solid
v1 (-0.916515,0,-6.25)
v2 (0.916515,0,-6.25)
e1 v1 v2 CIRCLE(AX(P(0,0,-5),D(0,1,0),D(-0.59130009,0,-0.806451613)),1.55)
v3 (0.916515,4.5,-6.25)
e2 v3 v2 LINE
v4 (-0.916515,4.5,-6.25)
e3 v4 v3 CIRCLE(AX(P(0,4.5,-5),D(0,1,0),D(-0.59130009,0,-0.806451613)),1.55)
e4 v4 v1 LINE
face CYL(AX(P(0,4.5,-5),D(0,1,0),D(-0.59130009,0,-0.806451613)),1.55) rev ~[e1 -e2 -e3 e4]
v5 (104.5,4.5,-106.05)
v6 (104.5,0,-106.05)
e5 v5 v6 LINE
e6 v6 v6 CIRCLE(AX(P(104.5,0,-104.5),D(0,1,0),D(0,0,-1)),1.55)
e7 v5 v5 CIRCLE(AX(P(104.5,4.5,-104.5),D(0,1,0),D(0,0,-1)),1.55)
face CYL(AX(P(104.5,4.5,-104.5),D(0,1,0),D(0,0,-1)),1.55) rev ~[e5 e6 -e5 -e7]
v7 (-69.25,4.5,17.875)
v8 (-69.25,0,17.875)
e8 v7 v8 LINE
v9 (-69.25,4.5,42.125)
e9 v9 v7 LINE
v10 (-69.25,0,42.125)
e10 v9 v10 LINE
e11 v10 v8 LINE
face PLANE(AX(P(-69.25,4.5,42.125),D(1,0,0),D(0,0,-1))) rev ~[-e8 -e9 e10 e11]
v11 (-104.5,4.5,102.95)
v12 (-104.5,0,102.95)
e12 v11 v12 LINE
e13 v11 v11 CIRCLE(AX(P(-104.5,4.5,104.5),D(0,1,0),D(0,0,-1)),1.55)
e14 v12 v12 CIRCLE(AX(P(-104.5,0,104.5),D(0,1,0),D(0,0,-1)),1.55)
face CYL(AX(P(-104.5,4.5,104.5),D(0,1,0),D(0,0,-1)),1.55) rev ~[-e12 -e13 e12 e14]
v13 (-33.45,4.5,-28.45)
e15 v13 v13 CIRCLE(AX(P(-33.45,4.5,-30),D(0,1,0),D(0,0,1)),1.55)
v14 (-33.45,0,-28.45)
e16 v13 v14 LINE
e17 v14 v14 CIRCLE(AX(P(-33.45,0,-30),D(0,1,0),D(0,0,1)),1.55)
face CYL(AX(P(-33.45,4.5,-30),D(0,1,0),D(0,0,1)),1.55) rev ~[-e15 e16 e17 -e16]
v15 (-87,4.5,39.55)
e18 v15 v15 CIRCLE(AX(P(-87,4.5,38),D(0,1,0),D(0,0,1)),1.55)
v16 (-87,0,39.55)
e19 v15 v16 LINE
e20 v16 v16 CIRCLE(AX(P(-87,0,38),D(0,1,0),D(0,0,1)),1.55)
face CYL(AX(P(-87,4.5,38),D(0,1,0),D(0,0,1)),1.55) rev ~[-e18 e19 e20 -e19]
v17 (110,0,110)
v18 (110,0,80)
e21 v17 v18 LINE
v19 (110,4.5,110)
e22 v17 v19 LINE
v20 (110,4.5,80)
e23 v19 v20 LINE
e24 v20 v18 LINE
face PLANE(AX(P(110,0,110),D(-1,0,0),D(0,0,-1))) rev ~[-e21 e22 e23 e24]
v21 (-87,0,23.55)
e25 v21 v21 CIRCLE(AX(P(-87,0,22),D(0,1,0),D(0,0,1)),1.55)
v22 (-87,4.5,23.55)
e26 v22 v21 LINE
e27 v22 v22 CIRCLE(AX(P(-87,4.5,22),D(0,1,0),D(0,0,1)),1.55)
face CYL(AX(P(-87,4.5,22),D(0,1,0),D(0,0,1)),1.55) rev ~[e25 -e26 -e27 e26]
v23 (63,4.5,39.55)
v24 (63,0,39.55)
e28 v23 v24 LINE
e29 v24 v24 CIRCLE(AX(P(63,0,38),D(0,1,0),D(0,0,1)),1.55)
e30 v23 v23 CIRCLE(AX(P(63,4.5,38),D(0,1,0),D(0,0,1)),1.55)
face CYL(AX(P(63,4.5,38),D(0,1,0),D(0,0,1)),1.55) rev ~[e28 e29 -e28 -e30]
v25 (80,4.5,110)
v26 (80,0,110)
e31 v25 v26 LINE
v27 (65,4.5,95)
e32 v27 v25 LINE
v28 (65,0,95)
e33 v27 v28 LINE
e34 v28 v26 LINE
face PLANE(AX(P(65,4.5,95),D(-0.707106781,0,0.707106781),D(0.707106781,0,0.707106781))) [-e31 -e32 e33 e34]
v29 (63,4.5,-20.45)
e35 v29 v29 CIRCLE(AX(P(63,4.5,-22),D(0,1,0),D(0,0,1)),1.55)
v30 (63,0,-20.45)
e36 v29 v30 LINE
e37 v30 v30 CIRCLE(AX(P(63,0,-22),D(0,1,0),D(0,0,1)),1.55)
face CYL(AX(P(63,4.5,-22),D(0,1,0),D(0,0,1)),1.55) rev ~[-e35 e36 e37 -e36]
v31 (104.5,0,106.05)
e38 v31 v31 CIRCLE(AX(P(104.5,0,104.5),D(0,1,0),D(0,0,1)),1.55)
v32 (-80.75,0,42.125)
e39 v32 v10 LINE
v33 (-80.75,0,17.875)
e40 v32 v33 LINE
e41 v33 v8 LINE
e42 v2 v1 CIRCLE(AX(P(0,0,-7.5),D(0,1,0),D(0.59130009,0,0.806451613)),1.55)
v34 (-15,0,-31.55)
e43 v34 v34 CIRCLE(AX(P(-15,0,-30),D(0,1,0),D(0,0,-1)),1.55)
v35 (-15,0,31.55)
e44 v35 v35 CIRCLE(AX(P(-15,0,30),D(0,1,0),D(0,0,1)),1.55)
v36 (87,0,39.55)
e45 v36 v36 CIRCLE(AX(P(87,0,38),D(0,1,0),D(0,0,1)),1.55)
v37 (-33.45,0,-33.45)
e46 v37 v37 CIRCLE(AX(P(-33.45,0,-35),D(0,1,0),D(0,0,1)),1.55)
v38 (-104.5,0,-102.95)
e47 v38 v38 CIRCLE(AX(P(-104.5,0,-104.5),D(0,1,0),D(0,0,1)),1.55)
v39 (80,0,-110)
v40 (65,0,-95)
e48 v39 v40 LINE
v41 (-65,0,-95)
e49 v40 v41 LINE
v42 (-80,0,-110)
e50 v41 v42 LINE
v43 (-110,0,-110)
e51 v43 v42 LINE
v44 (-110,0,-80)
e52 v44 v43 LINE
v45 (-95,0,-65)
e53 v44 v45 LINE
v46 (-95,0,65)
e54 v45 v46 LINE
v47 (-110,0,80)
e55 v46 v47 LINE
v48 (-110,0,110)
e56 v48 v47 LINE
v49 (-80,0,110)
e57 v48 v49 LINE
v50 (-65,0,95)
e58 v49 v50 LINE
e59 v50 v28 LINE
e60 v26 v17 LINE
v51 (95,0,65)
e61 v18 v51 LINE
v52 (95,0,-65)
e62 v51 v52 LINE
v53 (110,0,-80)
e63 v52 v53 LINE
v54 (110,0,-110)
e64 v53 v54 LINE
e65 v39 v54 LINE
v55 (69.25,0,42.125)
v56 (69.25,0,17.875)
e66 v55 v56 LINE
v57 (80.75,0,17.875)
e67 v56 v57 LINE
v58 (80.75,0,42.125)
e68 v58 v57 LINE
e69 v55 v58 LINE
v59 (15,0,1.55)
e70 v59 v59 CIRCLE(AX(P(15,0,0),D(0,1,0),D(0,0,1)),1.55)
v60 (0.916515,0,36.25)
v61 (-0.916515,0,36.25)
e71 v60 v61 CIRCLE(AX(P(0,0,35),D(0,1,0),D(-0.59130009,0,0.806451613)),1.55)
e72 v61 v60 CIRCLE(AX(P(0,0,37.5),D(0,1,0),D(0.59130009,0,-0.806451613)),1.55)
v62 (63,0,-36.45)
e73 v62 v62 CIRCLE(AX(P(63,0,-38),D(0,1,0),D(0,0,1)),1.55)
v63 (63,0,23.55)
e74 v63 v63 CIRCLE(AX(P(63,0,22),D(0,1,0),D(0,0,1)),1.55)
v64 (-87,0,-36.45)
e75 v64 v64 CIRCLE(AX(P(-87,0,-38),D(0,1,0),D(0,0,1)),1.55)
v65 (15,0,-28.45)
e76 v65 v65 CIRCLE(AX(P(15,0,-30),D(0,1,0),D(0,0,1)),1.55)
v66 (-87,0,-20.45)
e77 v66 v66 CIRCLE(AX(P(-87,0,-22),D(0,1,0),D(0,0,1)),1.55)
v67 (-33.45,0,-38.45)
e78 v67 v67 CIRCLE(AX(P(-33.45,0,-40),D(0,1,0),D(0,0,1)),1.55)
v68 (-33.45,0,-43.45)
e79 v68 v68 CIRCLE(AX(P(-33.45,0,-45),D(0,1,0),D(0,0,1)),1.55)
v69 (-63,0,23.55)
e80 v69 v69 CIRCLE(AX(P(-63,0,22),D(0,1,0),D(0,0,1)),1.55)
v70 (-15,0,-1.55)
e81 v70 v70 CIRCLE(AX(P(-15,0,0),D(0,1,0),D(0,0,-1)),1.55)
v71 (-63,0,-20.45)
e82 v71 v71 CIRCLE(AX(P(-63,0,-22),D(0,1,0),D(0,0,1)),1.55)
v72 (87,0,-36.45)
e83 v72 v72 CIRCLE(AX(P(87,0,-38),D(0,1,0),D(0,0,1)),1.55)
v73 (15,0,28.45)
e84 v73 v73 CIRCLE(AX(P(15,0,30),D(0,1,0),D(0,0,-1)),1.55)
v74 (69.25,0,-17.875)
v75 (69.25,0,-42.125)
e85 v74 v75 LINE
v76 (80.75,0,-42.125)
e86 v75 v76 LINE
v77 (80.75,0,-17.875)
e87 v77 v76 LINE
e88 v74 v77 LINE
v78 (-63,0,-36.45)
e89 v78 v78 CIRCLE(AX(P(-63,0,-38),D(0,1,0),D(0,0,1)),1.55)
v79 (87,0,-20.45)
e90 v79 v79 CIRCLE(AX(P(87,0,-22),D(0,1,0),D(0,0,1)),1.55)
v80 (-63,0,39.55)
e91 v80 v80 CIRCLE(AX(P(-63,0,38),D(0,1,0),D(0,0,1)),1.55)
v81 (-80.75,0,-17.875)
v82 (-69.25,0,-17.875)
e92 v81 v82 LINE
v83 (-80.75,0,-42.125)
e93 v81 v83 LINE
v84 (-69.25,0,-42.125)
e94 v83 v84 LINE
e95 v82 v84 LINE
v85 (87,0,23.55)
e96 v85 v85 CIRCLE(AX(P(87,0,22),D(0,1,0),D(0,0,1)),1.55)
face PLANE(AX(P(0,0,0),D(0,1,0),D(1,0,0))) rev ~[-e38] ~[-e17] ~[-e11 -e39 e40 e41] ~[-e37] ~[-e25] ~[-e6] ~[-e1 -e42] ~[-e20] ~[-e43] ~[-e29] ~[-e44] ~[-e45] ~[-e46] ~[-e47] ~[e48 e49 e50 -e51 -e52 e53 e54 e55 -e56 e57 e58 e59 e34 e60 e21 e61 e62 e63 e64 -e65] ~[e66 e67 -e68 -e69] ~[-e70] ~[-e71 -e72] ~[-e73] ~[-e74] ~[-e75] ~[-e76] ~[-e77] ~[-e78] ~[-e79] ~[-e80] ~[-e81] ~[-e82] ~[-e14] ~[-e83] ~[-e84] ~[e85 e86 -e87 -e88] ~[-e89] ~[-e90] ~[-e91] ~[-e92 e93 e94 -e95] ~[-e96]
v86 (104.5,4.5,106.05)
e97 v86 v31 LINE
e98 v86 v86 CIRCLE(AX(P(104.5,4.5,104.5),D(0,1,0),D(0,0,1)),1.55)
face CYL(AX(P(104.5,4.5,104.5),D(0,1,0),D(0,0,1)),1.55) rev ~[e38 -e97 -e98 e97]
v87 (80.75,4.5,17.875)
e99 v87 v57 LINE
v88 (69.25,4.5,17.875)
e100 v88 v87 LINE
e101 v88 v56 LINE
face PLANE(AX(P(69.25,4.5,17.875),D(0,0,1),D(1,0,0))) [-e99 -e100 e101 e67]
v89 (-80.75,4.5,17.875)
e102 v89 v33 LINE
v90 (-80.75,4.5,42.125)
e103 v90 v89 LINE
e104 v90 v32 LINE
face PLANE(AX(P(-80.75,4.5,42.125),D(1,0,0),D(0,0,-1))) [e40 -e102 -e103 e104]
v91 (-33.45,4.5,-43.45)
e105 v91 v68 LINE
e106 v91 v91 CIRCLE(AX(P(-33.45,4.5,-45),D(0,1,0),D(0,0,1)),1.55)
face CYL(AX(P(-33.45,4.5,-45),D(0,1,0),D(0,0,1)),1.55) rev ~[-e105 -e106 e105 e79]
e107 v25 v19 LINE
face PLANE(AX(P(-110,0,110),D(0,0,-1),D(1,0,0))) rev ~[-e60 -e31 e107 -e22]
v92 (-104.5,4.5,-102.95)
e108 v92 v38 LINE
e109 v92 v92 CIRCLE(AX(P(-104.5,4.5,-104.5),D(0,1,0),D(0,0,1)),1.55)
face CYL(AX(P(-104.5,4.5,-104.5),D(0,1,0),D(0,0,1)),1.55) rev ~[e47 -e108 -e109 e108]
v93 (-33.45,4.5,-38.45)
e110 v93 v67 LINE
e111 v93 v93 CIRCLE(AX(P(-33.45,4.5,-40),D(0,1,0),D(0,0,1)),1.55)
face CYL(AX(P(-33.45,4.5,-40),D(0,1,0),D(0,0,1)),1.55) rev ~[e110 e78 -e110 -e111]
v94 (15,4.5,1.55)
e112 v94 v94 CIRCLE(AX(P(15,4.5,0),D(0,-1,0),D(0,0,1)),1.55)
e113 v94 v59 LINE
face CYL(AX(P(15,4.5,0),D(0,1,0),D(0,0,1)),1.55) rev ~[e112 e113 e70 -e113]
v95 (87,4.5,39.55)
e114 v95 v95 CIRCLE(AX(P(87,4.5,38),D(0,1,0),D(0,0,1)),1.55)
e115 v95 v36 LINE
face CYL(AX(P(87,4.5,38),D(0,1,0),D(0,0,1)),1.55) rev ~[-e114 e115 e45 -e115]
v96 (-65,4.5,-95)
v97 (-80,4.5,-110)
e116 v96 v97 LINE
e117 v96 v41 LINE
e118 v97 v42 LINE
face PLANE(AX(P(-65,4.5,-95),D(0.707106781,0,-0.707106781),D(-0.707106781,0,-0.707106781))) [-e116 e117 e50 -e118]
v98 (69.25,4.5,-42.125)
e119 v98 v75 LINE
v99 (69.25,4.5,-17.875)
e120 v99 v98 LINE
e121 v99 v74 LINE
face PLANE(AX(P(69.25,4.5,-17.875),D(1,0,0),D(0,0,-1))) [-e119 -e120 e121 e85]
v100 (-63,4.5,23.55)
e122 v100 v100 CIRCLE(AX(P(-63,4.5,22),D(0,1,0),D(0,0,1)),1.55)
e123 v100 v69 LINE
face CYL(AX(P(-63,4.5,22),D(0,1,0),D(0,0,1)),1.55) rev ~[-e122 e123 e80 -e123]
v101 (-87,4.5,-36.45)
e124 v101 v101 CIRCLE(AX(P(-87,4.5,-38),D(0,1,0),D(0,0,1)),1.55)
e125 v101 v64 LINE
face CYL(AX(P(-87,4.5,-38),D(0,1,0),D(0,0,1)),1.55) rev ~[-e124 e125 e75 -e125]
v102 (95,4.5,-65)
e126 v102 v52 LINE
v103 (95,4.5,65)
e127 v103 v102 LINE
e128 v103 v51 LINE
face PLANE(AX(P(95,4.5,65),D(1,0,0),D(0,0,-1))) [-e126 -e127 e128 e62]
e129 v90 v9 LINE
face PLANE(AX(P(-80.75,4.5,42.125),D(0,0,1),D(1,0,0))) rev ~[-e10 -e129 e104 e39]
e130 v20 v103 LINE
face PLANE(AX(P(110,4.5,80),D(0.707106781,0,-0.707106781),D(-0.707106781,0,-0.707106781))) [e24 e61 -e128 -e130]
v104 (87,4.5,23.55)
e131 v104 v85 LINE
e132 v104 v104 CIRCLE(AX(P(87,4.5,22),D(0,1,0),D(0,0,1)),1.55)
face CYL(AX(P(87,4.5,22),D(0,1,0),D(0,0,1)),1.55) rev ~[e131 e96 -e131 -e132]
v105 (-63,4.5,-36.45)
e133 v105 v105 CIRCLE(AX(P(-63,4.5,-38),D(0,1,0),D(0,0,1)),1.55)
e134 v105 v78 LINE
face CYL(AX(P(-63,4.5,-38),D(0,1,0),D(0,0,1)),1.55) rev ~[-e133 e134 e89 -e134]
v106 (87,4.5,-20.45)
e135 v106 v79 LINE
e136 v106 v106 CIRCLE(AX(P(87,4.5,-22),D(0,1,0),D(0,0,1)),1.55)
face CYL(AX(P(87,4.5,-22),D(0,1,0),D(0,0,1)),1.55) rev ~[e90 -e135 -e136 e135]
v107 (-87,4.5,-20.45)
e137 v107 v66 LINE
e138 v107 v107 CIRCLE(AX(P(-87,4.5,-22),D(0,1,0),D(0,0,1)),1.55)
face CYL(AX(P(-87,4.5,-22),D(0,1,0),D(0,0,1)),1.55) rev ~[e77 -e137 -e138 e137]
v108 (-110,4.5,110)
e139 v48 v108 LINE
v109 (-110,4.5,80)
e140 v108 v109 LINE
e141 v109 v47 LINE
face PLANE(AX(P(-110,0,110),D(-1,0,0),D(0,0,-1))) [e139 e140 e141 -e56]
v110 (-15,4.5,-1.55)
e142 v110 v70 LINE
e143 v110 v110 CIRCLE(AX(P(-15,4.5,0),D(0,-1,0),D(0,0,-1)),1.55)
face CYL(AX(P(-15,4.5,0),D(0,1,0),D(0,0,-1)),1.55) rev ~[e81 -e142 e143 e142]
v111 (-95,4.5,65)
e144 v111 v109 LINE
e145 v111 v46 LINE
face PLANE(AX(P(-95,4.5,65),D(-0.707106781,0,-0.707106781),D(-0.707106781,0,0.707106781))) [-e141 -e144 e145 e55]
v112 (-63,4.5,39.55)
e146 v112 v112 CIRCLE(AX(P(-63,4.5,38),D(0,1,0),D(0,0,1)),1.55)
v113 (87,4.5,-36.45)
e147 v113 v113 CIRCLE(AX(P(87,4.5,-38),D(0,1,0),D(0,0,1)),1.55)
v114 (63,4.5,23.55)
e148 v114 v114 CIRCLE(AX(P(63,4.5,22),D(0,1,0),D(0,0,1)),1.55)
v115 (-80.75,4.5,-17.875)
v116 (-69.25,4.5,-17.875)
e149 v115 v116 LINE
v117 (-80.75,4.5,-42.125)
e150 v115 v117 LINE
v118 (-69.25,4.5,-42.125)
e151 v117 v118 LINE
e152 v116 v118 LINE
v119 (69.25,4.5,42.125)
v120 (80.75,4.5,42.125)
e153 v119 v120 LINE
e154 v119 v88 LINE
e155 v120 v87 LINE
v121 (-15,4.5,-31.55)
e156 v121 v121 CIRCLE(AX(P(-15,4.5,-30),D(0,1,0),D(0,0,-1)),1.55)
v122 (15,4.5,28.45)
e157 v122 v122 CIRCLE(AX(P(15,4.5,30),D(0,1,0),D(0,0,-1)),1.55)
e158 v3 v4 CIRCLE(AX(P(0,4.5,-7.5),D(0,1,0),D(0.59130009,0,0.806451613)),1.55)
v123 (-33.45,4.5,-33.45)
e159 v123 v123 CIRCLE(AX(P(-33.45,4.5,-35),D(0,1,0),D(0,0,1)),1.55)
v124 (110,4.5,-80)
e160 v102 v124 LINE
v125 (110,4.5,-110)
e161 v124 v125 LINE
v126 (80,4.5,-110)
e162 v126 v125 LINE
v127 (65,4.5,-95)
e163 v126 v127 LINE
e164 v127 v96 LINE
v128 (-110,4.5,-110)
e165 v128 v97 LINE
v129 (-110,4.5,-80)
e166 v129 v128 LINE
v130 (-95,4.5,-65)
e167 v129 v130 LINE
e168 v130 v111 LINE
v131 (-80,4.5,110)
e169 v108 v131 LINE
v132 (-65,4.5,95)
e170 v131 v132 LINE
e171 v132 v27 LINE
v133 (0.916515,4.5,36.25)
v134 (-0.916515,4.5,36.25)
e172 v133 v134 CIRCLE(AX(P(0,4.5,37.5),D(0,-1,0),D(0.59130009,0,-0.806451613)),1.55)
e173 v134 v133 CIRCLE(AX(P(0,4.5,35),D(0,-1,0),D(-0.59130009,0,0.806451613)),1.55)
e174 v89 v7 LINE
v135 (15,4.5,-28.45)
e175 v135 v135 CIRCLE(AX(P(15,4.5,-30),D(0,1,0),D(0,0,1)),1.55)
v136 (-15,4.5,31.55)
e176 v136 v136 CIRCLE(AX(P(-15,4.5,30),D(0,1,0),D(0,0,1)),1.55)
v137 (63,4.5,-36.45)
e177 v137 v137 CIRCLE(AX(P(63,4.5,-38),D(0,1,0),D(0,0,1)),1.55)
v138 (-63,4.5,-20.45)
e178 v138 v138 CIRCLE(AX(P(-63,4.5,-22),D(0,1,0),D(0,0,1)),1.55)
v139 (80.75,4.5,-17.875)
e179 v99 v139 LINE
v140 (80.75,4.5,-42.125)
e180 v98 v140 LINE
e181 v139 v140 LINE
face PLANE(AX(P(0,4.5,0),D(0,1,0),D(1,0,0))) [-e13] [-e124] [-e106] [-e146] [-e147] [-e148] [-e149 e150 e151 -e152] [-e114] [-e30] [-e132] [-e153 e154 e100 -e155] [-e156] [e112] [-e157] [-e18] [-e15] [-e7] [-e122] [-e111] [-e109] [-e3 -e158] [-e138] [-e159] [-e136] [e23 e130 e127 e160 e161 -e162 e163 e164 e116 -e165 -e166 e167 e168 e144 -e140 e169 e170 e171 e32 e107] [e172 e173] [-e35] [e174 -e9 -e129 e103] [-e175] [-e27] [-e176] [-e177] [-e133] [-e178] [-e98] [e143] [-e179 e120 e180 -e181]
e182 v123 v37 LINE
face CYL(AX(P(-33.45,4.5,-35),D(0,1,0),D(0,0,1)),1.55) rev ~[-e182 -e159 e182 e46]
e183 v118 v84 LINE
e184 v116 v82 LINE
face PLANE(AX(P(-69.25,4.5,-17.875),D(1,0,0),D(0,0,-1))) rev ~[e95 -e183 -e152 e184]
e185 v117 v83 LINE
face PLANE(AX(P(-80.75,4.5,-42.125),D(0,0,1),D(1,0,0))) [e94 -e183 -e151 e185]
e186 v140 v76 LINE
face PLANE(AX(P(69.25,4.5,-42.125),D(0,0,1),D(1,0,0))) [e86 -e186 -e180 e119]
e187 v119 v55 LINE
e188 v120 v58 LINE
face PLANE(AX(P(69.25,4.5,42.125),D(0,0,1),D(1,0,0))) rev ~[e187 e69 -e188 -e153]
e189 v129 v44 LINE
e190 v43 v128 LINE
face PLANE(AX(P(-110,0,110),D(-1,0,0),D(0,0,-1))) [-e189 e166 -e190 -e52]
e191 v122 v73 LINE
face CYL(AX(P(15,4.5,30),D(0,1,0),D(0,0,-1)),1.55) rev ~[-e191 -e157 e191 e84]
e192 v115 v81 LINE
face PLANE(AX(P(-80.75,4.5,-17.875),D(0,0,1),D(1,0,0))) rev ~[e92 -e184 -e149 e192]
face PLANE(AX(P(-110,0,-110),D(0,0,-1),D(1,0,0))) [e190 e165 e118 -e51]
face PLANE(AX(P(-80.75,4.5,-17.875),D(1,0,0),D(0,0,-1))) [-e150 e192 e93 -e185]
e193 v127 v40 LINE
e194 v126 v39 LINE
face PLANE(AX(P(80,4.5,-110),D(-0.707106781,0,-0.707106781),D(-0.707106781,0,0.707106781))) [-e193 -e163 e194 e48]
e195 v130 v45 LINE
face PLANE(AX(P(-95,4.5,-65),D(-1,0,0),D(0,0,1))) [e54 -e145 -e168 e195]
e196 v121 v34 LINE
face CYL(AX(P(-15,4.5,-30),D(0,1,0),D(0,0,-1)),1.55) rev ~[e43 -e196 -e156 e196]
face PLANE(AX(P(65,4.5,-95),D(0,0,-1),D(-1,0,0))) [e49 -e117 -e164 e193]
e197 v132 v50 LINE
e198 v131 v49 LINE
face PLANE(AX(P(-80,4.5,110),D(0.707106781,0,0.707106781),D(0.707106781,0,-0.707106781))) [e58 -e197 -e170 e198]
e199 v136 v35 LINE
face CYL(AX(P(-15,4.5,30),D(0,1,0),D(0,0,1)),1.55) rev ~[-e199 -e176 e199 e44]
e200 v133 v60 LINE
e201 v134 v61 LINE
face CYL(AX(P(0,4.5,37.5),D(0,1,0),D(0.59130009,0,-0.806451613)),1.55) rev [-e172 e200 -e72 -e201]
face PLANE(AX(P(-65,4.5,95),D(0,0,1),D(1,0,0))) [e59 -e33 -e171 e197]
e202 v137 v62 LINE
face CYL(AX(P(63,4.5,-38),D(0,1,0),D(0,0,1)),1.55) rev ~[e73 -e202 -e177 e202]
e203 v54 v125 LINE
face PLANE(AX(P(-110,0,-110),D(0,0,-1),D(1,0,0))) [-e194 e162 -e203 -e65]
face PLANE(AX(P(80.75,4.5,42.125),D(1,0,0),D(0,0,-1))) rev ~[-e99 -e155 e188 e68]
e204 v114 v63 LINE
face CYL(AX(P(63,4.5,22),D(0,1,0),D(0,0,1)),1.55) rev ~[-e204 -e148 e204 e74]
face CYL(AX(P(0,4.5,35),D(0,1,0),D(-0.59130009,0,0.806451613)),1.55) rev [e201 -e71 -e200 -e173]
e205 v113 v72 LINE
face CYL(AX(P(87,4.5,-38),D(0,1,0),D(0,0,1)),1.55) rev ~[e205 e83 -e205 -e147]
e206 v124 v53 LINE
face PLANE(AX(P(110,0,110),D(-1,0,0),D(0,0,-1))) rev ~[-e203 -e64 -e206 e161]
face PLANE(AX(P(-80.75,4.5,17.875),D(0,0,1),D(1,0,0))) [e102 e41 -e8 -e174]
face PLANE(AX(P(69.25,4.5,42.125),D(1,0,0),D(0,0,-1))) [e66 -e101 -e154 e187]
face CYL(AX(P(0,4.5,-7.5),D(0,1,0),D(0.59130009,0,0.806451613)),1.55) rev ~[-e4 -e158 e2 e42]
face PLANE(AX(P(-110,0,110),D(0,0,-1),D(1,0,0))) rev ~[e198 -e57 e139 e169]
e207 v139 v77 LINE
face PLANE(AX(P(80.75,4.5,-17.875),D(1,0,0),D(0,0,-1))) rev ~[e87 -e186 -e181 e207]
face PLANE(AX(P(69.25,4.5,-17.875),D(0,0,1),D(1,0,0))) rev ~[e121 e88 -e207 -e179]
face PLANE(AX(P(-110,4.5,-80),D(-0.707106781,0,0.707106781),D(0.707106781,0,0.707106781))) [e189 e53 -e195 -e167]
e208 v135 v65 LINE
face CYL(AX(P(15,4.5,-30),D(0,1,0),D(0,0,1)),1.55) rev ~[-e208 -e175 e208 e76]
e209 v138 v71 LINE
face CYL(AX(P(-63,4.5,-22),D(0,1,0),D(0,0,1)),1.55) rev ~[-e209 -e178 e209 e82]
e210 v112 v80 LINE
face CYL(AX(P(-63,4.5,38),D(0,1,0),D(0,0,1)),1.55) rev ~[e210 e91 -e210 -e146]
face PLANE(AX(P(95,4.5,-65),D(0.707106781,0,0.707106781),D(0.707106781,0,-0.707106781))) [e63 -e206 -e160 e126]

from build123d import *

# Parameters (mm, degrees)
SKETCH1_W            = 220
SKETCH1_H            = 220
SQUARE_DEPTH         = 4.5
SKETCH2_R            = 1.55
LM8UU_HOLDERS_DEPTH  = 156.628564216
SKETCH3_R            = 1.55
DEFAULTBELT_DEPTH    = 156.628564216
BELTOPTIONS_DEPTH    = 156.628564216
SKETCH5_OUTSIDE_W    = 284.232
SKETCH5_OUTSIDE_H    = 284.232
SKETCH5_OUTSIDE_R    = 1.55
SHAPING_DEPTH        = 10
SKETCH6_R            = 1.55
CUT_EXTRUDE5_DEPTH   = 156.628564216
SKETCH7_W            = 11.5
SKETCH7_H            = 24.25
CUT_EXTRUDE6_DEPTH   = 156.628564216
SKETCH8_R            = 1.55
ENDSTOPTRIGGER_DEPTH = 156.628564216
LPATTERN1_COUNT      = 2
LPATTERN1_PITCH      = 30


with BuildPart() as part:
    # Sketch1 → Square (new body)
    with BuildSketch(Plane(origin=(0, 0, 0), x_dir=(1, 0, 0), z_dir=(0, 1, 0))):
        Rectangle(SKETCH1_W, SKETCH1_H)
    extrude(amount=SQUARE_DEPTH)

    # Sketch2 → LM8UU-Holders (cut, through all)
    with BuildSketch(Plane(origin=(0, 4.5, 0), x_dir=(1, 0, 0), z_dir=(0, 1, 0))):
        with Locations((87, 38)):
            Circle(SKETCH2_R)
        with Locations((87, 22)):
            Circle(SKETCH2_R)
        with Locations((63, 22)):
            Circle(SKETCH2_R)
        with Locations((63, 38)):
            Circle(SKETCH2_R)
        with Locations((-63, 38)):
            Circle(SKETCH2_R)
        with Locations((-63, 22)):
            Circle(SKETCH2_R)
        with Locations((-87, 22)):
            Circle(SKETCH2_R)
        with Locations((-87, 38)):
            Circle(SKETCH2_R)
        with Locations((87, -22)):
            Circle(SKETCH2_R)
        with Locations((87, -38)):
            Circle(SKETCH2_R)
        with Locations((63, -38)):
            Circle(SKETCH2_R)
        with Locations((63, -22)):
            Circle(SKETCH2_R)
        with Locations((-63, -22)):
            Circle(SKETCH2_R)
        with Locations((-63, -38)):
            Circle(SKETCH2_R)
        with Locations((-87, -38)):
            Circle(SKETCH2_R)
        with Locations((-87, -22)):
            Circle(SKETCH2_R)
    extrude(amount=-LM8UU_HOLDERS_DEPTH, mode=Mode.SUBTRACT)

    # Sketch3 → DefaultBelt (cut, through all)
    with BuildSketch(Plane(origin=(0, 4.5, 0), x_dir=(1, 0, 0), z_dir=(0, 1, 0))):
        with Locations((-15, -30)):
            Circle(SKETCH3_R)
        with Locations((15, -30)):
            Circle(SKETCH3_R)
        with Locations((15, 0)):
            Circle(SKETCH3_R)
        with Locations((-15, 0)):
            Circle(SKETCH3_R)
    defaultbelt = extrude(amount=-DEFAULTBELT_DEPTH, mode=Mode.SUBTRACT)

    # Sketch4 → BeltOptions (cut, through all)
    with BuildSketch(Plane(origin=(0, 4.5, 0), x_dir=(1, 0, 0), z_dir=(0, 1, 0))):
        with BuildLine():
            ThreePointArc((-0.916515139, 6.25), (0, 3.45), (0.916515139, 6.25))
            ThreePointArc((0.916515139, 6.25), (0, 9.05), (-0.916515139, 6.25))
        make_face()
        with BuildLine():
            ThreePointArc((0.916515139, -36.25), (0, -39.05), (-0.916515139, -36.25))
            ThreePointArc((-0.916515139, -36.25), (0, -33.45), (0.916515139, -36.25))
        make_face()
    extrude(amount=-BELTOPTIONS_DEPTH, mode=Mode.SUBTRACT)

    # Sketch5 outside → Shaping (cut)
    # profile 1 of 15: a face of its own
    with BuildSketch(Plane(origin=(0, 4.5, 0), x_dir=(1, 0, 0), z_dir=(0, 1, 0))):
        Rectangle(SKETCH5_OUTSIDE_W, SKETCH5_OUTSIDE_H)
        Polygon((-80, 110), (-110, 110), (-110, 80), (-95, 65), (-95, -65), (-110, -80), (-110, -110), (-80, -110), (-65, -95), (65, -95), (80, -110), (110, -110), (110, -80), (95, -65), (95, 65), (110, 80), (110, 110), (80, 110), (65, 95), (-65, 95), align=None, mode=Mode.SUBTRACT)
    # profile 2 of 15: a face of its own
    with BuildSketch(Plane(origin=(0, 4.5, 0), x_dir=(1, 0, 0), z_dir=(0, 1, 0))):
        with Locations((-87, -38)):
            Circle(SKETCH5_OUTSIDE_R)
    # profile 3 of 15: a face of its own
    with BuildSketch(Plane(origin=(0, 4.5, 0), x_dir=(1, 0, 0), z_dir=(0, 1, 0))):
        with Locations((-63, -38)):
            Circle(SKETCH5_OUTSIDE_R)
    # profile 4 of 15: a face of its own
    with BuildSketch(Plane(origin=(0, 4.5, 0), x_dir=(1, 0, 0), z_dir=(0, 1, 0))):
        with Locations((-87, -22)):
            Circle(SKETCH5_OUTSIDE_R)
    # profile 5 of 15: a face of its own
    with BuildSketch(Plane(origin=(0, 4.5, 0), x_dir=(1, 0, 0), z_dir=(0, 1, 0))):
        with Locations((-63, -22)):
            Circle(SKETCH5_OUTSIDE_R)
    # profile 6 of 15: a face of its own
    with BuildSketch(Plane(origin=(0, 4.5, 0), x_dir=(1, 0, 0), z_dir=(0, 1, 0))):
        with Locations((15, -30)):
            Circle(SKETCH5_OUTSIDE_R)
    # profile 7 of 15: a face of its own
    with BuildSketch(Plane(origin=(0, 4.5, 0), x_dir=(1, 0, 0), z_dir=(0, 1, 0))):
        with Locations((63, -38)):
            Circle(SKETCH5_OUTSIDE_R)
    # profile 8 of 15: a face of its own
    with BuildSketch(Plane(origin=(0, 4.5, 0), x_dir=(1, 0, 0), z_dir=(0, 1, 0))):
        with Locations((87, -38)):
            Circle(SKETCH5_OUTSIDE_R)
    # profile 9 of 15: a face of its own
    with BuildSketch(Plane(origin=(0, 4.5, 0), x_dir=(1, 0, 0), z_dir=(0, 1, 0))):
        with Locations((63, -22)):
            Circle(SKETCH5_OUTSIDE_R)
    # profile 10 of 15: a face of its own
    with BuildSketch(Plane(origin=(0, 4.5, 0), x_dir=(1, 0, 0), z_dir=(0, 1, 0))):
        with Locations((-87, 22)):
            Circle(SKETCH5_OUTSIDE_R)
    # profile 11 of 15: a face of its own
    with BuildSketch(Plane(origin=(0, 4.5, 0), x_dir=(1, 0, 0), z_dir=(0, 1, 0))):
        with Locations((-63, 22)):
            Circle(SKETCH5_OUTSIDE_R)
    # profile 12 of 15: a face of its own
    with BuildSketch(Plane(origin=(0, 4.5, 0), x_dir=(1, 0, 0), z_dir=(0, 1, 0))):
        with Locations((-87, 38)):
            Circle(SKETCH5_OUTSIDE_R)
    # profile 13 of 15: a face of its own
    with BuildSketch(Plane(origin=(0, 4.5, 0), x_dir=(1, 0, 0), z_dir=(0, 1, 0))):
        with Locations((-63, 38)):
            Circle(SKETCH5_OUTSIDE_R)
    # profile 14 of 15: a face of its own
    with BuildSketch(Plane(origin=(0, 4.5, 0), x_dir=(1, 0, 0), z_dir=(0, 1, 0))):
        with Locations((87, 22)):
            Circle(SKETCH5_OUTSIDE_R)
    # profile 15 of 15: a face of its own
    with BuildSketch(Plane(origin=(0, 4.5, 0), x_dir=(1, 0, 0), z_dir=(0, 1, 0))):
        with Locations((63, 38)):
            Circle(SKETCH5_OUTSIDE_R)
    extrude(amount=-SHAPING_DEPTH, mode=Mode.SUBTRACT)

    # Sketch6 → Cut-Extrude5 (cut, through all)
    with BuildSketch(Plane(origin=(0, 4.5, 0), x_dir=(1, 0, 0), z_dir=(0, 1, 0))):
        with Locations((-104.5, 104.5)):
            Circle(SKETCH6_R)
        with Locations((104.5, 104.5)):
            Circle(SKETCH6_R)
        with Locations((104.5, -104.5)):
            Circle(SKETCH6_R)
        with Locations((-104.5, -104.5)):
            Circle(SKETCH6_R)
    extrude(amount=-CUT_EXTRUDE5_DEPTH, mode=Mode.SUBTRACT)

    # Sketch7 → Cut-Extrude6 (cut, through all)
    with BuildSketch(Plane(origin=(0, 4.5, 0), x_dir=(1, 0, 0), z_dir=(0, 1, 0))):
        with Locations((-75, 30)):
            Rectangle(SKETCH7_W, SKETCH7_H)
        with Locations((-75, -30)):
            Rectangle(SKETCH7_W, SKETCH7_H)
        with Locations((75, -30)):
            Rectangle(SKETCH7_W, SKETCH7_H)
        with Locations((75, 30)):
            Rectangle(SKETCH7_W, SKETCH7_H)
    extrude(amount=-CUT_EXTRUDE6_DEPTH, mode=Mode.SUBTRACT)

    # Sketch8 → EndstopTrigger (cut, through all)
    with BuildSketch(Plane(origin=(0, 4.5, 0), x_dir=(1, 0, 0), z_dir=(0, 1, 0))):
        with Locations((-33.45, 45)):
            Circle(SKETCH8_R)
        with Locations((-33.45, 40)):
            Circle(SKETCH8_R)
        with Locations((-33.45, 35)):
            Circle(SKETCH8_R)
        with Locations((-33.45, 30)):
            Circle(SKETCH8_R)
    extrude(amount=-ENDSTOPTRIGGER_DEPTH, mode=Mode.SUBTRACT)

    # LPattern1: DefaultBelt ×2
    with Locations(*[(0, 0, -i * LPATTERN1_PITCH) for i in range(1, LPATTERN1_COUNT)]):
        add(defaultbelt, mode=Mode.SUBTRACT)


solid = part.part
